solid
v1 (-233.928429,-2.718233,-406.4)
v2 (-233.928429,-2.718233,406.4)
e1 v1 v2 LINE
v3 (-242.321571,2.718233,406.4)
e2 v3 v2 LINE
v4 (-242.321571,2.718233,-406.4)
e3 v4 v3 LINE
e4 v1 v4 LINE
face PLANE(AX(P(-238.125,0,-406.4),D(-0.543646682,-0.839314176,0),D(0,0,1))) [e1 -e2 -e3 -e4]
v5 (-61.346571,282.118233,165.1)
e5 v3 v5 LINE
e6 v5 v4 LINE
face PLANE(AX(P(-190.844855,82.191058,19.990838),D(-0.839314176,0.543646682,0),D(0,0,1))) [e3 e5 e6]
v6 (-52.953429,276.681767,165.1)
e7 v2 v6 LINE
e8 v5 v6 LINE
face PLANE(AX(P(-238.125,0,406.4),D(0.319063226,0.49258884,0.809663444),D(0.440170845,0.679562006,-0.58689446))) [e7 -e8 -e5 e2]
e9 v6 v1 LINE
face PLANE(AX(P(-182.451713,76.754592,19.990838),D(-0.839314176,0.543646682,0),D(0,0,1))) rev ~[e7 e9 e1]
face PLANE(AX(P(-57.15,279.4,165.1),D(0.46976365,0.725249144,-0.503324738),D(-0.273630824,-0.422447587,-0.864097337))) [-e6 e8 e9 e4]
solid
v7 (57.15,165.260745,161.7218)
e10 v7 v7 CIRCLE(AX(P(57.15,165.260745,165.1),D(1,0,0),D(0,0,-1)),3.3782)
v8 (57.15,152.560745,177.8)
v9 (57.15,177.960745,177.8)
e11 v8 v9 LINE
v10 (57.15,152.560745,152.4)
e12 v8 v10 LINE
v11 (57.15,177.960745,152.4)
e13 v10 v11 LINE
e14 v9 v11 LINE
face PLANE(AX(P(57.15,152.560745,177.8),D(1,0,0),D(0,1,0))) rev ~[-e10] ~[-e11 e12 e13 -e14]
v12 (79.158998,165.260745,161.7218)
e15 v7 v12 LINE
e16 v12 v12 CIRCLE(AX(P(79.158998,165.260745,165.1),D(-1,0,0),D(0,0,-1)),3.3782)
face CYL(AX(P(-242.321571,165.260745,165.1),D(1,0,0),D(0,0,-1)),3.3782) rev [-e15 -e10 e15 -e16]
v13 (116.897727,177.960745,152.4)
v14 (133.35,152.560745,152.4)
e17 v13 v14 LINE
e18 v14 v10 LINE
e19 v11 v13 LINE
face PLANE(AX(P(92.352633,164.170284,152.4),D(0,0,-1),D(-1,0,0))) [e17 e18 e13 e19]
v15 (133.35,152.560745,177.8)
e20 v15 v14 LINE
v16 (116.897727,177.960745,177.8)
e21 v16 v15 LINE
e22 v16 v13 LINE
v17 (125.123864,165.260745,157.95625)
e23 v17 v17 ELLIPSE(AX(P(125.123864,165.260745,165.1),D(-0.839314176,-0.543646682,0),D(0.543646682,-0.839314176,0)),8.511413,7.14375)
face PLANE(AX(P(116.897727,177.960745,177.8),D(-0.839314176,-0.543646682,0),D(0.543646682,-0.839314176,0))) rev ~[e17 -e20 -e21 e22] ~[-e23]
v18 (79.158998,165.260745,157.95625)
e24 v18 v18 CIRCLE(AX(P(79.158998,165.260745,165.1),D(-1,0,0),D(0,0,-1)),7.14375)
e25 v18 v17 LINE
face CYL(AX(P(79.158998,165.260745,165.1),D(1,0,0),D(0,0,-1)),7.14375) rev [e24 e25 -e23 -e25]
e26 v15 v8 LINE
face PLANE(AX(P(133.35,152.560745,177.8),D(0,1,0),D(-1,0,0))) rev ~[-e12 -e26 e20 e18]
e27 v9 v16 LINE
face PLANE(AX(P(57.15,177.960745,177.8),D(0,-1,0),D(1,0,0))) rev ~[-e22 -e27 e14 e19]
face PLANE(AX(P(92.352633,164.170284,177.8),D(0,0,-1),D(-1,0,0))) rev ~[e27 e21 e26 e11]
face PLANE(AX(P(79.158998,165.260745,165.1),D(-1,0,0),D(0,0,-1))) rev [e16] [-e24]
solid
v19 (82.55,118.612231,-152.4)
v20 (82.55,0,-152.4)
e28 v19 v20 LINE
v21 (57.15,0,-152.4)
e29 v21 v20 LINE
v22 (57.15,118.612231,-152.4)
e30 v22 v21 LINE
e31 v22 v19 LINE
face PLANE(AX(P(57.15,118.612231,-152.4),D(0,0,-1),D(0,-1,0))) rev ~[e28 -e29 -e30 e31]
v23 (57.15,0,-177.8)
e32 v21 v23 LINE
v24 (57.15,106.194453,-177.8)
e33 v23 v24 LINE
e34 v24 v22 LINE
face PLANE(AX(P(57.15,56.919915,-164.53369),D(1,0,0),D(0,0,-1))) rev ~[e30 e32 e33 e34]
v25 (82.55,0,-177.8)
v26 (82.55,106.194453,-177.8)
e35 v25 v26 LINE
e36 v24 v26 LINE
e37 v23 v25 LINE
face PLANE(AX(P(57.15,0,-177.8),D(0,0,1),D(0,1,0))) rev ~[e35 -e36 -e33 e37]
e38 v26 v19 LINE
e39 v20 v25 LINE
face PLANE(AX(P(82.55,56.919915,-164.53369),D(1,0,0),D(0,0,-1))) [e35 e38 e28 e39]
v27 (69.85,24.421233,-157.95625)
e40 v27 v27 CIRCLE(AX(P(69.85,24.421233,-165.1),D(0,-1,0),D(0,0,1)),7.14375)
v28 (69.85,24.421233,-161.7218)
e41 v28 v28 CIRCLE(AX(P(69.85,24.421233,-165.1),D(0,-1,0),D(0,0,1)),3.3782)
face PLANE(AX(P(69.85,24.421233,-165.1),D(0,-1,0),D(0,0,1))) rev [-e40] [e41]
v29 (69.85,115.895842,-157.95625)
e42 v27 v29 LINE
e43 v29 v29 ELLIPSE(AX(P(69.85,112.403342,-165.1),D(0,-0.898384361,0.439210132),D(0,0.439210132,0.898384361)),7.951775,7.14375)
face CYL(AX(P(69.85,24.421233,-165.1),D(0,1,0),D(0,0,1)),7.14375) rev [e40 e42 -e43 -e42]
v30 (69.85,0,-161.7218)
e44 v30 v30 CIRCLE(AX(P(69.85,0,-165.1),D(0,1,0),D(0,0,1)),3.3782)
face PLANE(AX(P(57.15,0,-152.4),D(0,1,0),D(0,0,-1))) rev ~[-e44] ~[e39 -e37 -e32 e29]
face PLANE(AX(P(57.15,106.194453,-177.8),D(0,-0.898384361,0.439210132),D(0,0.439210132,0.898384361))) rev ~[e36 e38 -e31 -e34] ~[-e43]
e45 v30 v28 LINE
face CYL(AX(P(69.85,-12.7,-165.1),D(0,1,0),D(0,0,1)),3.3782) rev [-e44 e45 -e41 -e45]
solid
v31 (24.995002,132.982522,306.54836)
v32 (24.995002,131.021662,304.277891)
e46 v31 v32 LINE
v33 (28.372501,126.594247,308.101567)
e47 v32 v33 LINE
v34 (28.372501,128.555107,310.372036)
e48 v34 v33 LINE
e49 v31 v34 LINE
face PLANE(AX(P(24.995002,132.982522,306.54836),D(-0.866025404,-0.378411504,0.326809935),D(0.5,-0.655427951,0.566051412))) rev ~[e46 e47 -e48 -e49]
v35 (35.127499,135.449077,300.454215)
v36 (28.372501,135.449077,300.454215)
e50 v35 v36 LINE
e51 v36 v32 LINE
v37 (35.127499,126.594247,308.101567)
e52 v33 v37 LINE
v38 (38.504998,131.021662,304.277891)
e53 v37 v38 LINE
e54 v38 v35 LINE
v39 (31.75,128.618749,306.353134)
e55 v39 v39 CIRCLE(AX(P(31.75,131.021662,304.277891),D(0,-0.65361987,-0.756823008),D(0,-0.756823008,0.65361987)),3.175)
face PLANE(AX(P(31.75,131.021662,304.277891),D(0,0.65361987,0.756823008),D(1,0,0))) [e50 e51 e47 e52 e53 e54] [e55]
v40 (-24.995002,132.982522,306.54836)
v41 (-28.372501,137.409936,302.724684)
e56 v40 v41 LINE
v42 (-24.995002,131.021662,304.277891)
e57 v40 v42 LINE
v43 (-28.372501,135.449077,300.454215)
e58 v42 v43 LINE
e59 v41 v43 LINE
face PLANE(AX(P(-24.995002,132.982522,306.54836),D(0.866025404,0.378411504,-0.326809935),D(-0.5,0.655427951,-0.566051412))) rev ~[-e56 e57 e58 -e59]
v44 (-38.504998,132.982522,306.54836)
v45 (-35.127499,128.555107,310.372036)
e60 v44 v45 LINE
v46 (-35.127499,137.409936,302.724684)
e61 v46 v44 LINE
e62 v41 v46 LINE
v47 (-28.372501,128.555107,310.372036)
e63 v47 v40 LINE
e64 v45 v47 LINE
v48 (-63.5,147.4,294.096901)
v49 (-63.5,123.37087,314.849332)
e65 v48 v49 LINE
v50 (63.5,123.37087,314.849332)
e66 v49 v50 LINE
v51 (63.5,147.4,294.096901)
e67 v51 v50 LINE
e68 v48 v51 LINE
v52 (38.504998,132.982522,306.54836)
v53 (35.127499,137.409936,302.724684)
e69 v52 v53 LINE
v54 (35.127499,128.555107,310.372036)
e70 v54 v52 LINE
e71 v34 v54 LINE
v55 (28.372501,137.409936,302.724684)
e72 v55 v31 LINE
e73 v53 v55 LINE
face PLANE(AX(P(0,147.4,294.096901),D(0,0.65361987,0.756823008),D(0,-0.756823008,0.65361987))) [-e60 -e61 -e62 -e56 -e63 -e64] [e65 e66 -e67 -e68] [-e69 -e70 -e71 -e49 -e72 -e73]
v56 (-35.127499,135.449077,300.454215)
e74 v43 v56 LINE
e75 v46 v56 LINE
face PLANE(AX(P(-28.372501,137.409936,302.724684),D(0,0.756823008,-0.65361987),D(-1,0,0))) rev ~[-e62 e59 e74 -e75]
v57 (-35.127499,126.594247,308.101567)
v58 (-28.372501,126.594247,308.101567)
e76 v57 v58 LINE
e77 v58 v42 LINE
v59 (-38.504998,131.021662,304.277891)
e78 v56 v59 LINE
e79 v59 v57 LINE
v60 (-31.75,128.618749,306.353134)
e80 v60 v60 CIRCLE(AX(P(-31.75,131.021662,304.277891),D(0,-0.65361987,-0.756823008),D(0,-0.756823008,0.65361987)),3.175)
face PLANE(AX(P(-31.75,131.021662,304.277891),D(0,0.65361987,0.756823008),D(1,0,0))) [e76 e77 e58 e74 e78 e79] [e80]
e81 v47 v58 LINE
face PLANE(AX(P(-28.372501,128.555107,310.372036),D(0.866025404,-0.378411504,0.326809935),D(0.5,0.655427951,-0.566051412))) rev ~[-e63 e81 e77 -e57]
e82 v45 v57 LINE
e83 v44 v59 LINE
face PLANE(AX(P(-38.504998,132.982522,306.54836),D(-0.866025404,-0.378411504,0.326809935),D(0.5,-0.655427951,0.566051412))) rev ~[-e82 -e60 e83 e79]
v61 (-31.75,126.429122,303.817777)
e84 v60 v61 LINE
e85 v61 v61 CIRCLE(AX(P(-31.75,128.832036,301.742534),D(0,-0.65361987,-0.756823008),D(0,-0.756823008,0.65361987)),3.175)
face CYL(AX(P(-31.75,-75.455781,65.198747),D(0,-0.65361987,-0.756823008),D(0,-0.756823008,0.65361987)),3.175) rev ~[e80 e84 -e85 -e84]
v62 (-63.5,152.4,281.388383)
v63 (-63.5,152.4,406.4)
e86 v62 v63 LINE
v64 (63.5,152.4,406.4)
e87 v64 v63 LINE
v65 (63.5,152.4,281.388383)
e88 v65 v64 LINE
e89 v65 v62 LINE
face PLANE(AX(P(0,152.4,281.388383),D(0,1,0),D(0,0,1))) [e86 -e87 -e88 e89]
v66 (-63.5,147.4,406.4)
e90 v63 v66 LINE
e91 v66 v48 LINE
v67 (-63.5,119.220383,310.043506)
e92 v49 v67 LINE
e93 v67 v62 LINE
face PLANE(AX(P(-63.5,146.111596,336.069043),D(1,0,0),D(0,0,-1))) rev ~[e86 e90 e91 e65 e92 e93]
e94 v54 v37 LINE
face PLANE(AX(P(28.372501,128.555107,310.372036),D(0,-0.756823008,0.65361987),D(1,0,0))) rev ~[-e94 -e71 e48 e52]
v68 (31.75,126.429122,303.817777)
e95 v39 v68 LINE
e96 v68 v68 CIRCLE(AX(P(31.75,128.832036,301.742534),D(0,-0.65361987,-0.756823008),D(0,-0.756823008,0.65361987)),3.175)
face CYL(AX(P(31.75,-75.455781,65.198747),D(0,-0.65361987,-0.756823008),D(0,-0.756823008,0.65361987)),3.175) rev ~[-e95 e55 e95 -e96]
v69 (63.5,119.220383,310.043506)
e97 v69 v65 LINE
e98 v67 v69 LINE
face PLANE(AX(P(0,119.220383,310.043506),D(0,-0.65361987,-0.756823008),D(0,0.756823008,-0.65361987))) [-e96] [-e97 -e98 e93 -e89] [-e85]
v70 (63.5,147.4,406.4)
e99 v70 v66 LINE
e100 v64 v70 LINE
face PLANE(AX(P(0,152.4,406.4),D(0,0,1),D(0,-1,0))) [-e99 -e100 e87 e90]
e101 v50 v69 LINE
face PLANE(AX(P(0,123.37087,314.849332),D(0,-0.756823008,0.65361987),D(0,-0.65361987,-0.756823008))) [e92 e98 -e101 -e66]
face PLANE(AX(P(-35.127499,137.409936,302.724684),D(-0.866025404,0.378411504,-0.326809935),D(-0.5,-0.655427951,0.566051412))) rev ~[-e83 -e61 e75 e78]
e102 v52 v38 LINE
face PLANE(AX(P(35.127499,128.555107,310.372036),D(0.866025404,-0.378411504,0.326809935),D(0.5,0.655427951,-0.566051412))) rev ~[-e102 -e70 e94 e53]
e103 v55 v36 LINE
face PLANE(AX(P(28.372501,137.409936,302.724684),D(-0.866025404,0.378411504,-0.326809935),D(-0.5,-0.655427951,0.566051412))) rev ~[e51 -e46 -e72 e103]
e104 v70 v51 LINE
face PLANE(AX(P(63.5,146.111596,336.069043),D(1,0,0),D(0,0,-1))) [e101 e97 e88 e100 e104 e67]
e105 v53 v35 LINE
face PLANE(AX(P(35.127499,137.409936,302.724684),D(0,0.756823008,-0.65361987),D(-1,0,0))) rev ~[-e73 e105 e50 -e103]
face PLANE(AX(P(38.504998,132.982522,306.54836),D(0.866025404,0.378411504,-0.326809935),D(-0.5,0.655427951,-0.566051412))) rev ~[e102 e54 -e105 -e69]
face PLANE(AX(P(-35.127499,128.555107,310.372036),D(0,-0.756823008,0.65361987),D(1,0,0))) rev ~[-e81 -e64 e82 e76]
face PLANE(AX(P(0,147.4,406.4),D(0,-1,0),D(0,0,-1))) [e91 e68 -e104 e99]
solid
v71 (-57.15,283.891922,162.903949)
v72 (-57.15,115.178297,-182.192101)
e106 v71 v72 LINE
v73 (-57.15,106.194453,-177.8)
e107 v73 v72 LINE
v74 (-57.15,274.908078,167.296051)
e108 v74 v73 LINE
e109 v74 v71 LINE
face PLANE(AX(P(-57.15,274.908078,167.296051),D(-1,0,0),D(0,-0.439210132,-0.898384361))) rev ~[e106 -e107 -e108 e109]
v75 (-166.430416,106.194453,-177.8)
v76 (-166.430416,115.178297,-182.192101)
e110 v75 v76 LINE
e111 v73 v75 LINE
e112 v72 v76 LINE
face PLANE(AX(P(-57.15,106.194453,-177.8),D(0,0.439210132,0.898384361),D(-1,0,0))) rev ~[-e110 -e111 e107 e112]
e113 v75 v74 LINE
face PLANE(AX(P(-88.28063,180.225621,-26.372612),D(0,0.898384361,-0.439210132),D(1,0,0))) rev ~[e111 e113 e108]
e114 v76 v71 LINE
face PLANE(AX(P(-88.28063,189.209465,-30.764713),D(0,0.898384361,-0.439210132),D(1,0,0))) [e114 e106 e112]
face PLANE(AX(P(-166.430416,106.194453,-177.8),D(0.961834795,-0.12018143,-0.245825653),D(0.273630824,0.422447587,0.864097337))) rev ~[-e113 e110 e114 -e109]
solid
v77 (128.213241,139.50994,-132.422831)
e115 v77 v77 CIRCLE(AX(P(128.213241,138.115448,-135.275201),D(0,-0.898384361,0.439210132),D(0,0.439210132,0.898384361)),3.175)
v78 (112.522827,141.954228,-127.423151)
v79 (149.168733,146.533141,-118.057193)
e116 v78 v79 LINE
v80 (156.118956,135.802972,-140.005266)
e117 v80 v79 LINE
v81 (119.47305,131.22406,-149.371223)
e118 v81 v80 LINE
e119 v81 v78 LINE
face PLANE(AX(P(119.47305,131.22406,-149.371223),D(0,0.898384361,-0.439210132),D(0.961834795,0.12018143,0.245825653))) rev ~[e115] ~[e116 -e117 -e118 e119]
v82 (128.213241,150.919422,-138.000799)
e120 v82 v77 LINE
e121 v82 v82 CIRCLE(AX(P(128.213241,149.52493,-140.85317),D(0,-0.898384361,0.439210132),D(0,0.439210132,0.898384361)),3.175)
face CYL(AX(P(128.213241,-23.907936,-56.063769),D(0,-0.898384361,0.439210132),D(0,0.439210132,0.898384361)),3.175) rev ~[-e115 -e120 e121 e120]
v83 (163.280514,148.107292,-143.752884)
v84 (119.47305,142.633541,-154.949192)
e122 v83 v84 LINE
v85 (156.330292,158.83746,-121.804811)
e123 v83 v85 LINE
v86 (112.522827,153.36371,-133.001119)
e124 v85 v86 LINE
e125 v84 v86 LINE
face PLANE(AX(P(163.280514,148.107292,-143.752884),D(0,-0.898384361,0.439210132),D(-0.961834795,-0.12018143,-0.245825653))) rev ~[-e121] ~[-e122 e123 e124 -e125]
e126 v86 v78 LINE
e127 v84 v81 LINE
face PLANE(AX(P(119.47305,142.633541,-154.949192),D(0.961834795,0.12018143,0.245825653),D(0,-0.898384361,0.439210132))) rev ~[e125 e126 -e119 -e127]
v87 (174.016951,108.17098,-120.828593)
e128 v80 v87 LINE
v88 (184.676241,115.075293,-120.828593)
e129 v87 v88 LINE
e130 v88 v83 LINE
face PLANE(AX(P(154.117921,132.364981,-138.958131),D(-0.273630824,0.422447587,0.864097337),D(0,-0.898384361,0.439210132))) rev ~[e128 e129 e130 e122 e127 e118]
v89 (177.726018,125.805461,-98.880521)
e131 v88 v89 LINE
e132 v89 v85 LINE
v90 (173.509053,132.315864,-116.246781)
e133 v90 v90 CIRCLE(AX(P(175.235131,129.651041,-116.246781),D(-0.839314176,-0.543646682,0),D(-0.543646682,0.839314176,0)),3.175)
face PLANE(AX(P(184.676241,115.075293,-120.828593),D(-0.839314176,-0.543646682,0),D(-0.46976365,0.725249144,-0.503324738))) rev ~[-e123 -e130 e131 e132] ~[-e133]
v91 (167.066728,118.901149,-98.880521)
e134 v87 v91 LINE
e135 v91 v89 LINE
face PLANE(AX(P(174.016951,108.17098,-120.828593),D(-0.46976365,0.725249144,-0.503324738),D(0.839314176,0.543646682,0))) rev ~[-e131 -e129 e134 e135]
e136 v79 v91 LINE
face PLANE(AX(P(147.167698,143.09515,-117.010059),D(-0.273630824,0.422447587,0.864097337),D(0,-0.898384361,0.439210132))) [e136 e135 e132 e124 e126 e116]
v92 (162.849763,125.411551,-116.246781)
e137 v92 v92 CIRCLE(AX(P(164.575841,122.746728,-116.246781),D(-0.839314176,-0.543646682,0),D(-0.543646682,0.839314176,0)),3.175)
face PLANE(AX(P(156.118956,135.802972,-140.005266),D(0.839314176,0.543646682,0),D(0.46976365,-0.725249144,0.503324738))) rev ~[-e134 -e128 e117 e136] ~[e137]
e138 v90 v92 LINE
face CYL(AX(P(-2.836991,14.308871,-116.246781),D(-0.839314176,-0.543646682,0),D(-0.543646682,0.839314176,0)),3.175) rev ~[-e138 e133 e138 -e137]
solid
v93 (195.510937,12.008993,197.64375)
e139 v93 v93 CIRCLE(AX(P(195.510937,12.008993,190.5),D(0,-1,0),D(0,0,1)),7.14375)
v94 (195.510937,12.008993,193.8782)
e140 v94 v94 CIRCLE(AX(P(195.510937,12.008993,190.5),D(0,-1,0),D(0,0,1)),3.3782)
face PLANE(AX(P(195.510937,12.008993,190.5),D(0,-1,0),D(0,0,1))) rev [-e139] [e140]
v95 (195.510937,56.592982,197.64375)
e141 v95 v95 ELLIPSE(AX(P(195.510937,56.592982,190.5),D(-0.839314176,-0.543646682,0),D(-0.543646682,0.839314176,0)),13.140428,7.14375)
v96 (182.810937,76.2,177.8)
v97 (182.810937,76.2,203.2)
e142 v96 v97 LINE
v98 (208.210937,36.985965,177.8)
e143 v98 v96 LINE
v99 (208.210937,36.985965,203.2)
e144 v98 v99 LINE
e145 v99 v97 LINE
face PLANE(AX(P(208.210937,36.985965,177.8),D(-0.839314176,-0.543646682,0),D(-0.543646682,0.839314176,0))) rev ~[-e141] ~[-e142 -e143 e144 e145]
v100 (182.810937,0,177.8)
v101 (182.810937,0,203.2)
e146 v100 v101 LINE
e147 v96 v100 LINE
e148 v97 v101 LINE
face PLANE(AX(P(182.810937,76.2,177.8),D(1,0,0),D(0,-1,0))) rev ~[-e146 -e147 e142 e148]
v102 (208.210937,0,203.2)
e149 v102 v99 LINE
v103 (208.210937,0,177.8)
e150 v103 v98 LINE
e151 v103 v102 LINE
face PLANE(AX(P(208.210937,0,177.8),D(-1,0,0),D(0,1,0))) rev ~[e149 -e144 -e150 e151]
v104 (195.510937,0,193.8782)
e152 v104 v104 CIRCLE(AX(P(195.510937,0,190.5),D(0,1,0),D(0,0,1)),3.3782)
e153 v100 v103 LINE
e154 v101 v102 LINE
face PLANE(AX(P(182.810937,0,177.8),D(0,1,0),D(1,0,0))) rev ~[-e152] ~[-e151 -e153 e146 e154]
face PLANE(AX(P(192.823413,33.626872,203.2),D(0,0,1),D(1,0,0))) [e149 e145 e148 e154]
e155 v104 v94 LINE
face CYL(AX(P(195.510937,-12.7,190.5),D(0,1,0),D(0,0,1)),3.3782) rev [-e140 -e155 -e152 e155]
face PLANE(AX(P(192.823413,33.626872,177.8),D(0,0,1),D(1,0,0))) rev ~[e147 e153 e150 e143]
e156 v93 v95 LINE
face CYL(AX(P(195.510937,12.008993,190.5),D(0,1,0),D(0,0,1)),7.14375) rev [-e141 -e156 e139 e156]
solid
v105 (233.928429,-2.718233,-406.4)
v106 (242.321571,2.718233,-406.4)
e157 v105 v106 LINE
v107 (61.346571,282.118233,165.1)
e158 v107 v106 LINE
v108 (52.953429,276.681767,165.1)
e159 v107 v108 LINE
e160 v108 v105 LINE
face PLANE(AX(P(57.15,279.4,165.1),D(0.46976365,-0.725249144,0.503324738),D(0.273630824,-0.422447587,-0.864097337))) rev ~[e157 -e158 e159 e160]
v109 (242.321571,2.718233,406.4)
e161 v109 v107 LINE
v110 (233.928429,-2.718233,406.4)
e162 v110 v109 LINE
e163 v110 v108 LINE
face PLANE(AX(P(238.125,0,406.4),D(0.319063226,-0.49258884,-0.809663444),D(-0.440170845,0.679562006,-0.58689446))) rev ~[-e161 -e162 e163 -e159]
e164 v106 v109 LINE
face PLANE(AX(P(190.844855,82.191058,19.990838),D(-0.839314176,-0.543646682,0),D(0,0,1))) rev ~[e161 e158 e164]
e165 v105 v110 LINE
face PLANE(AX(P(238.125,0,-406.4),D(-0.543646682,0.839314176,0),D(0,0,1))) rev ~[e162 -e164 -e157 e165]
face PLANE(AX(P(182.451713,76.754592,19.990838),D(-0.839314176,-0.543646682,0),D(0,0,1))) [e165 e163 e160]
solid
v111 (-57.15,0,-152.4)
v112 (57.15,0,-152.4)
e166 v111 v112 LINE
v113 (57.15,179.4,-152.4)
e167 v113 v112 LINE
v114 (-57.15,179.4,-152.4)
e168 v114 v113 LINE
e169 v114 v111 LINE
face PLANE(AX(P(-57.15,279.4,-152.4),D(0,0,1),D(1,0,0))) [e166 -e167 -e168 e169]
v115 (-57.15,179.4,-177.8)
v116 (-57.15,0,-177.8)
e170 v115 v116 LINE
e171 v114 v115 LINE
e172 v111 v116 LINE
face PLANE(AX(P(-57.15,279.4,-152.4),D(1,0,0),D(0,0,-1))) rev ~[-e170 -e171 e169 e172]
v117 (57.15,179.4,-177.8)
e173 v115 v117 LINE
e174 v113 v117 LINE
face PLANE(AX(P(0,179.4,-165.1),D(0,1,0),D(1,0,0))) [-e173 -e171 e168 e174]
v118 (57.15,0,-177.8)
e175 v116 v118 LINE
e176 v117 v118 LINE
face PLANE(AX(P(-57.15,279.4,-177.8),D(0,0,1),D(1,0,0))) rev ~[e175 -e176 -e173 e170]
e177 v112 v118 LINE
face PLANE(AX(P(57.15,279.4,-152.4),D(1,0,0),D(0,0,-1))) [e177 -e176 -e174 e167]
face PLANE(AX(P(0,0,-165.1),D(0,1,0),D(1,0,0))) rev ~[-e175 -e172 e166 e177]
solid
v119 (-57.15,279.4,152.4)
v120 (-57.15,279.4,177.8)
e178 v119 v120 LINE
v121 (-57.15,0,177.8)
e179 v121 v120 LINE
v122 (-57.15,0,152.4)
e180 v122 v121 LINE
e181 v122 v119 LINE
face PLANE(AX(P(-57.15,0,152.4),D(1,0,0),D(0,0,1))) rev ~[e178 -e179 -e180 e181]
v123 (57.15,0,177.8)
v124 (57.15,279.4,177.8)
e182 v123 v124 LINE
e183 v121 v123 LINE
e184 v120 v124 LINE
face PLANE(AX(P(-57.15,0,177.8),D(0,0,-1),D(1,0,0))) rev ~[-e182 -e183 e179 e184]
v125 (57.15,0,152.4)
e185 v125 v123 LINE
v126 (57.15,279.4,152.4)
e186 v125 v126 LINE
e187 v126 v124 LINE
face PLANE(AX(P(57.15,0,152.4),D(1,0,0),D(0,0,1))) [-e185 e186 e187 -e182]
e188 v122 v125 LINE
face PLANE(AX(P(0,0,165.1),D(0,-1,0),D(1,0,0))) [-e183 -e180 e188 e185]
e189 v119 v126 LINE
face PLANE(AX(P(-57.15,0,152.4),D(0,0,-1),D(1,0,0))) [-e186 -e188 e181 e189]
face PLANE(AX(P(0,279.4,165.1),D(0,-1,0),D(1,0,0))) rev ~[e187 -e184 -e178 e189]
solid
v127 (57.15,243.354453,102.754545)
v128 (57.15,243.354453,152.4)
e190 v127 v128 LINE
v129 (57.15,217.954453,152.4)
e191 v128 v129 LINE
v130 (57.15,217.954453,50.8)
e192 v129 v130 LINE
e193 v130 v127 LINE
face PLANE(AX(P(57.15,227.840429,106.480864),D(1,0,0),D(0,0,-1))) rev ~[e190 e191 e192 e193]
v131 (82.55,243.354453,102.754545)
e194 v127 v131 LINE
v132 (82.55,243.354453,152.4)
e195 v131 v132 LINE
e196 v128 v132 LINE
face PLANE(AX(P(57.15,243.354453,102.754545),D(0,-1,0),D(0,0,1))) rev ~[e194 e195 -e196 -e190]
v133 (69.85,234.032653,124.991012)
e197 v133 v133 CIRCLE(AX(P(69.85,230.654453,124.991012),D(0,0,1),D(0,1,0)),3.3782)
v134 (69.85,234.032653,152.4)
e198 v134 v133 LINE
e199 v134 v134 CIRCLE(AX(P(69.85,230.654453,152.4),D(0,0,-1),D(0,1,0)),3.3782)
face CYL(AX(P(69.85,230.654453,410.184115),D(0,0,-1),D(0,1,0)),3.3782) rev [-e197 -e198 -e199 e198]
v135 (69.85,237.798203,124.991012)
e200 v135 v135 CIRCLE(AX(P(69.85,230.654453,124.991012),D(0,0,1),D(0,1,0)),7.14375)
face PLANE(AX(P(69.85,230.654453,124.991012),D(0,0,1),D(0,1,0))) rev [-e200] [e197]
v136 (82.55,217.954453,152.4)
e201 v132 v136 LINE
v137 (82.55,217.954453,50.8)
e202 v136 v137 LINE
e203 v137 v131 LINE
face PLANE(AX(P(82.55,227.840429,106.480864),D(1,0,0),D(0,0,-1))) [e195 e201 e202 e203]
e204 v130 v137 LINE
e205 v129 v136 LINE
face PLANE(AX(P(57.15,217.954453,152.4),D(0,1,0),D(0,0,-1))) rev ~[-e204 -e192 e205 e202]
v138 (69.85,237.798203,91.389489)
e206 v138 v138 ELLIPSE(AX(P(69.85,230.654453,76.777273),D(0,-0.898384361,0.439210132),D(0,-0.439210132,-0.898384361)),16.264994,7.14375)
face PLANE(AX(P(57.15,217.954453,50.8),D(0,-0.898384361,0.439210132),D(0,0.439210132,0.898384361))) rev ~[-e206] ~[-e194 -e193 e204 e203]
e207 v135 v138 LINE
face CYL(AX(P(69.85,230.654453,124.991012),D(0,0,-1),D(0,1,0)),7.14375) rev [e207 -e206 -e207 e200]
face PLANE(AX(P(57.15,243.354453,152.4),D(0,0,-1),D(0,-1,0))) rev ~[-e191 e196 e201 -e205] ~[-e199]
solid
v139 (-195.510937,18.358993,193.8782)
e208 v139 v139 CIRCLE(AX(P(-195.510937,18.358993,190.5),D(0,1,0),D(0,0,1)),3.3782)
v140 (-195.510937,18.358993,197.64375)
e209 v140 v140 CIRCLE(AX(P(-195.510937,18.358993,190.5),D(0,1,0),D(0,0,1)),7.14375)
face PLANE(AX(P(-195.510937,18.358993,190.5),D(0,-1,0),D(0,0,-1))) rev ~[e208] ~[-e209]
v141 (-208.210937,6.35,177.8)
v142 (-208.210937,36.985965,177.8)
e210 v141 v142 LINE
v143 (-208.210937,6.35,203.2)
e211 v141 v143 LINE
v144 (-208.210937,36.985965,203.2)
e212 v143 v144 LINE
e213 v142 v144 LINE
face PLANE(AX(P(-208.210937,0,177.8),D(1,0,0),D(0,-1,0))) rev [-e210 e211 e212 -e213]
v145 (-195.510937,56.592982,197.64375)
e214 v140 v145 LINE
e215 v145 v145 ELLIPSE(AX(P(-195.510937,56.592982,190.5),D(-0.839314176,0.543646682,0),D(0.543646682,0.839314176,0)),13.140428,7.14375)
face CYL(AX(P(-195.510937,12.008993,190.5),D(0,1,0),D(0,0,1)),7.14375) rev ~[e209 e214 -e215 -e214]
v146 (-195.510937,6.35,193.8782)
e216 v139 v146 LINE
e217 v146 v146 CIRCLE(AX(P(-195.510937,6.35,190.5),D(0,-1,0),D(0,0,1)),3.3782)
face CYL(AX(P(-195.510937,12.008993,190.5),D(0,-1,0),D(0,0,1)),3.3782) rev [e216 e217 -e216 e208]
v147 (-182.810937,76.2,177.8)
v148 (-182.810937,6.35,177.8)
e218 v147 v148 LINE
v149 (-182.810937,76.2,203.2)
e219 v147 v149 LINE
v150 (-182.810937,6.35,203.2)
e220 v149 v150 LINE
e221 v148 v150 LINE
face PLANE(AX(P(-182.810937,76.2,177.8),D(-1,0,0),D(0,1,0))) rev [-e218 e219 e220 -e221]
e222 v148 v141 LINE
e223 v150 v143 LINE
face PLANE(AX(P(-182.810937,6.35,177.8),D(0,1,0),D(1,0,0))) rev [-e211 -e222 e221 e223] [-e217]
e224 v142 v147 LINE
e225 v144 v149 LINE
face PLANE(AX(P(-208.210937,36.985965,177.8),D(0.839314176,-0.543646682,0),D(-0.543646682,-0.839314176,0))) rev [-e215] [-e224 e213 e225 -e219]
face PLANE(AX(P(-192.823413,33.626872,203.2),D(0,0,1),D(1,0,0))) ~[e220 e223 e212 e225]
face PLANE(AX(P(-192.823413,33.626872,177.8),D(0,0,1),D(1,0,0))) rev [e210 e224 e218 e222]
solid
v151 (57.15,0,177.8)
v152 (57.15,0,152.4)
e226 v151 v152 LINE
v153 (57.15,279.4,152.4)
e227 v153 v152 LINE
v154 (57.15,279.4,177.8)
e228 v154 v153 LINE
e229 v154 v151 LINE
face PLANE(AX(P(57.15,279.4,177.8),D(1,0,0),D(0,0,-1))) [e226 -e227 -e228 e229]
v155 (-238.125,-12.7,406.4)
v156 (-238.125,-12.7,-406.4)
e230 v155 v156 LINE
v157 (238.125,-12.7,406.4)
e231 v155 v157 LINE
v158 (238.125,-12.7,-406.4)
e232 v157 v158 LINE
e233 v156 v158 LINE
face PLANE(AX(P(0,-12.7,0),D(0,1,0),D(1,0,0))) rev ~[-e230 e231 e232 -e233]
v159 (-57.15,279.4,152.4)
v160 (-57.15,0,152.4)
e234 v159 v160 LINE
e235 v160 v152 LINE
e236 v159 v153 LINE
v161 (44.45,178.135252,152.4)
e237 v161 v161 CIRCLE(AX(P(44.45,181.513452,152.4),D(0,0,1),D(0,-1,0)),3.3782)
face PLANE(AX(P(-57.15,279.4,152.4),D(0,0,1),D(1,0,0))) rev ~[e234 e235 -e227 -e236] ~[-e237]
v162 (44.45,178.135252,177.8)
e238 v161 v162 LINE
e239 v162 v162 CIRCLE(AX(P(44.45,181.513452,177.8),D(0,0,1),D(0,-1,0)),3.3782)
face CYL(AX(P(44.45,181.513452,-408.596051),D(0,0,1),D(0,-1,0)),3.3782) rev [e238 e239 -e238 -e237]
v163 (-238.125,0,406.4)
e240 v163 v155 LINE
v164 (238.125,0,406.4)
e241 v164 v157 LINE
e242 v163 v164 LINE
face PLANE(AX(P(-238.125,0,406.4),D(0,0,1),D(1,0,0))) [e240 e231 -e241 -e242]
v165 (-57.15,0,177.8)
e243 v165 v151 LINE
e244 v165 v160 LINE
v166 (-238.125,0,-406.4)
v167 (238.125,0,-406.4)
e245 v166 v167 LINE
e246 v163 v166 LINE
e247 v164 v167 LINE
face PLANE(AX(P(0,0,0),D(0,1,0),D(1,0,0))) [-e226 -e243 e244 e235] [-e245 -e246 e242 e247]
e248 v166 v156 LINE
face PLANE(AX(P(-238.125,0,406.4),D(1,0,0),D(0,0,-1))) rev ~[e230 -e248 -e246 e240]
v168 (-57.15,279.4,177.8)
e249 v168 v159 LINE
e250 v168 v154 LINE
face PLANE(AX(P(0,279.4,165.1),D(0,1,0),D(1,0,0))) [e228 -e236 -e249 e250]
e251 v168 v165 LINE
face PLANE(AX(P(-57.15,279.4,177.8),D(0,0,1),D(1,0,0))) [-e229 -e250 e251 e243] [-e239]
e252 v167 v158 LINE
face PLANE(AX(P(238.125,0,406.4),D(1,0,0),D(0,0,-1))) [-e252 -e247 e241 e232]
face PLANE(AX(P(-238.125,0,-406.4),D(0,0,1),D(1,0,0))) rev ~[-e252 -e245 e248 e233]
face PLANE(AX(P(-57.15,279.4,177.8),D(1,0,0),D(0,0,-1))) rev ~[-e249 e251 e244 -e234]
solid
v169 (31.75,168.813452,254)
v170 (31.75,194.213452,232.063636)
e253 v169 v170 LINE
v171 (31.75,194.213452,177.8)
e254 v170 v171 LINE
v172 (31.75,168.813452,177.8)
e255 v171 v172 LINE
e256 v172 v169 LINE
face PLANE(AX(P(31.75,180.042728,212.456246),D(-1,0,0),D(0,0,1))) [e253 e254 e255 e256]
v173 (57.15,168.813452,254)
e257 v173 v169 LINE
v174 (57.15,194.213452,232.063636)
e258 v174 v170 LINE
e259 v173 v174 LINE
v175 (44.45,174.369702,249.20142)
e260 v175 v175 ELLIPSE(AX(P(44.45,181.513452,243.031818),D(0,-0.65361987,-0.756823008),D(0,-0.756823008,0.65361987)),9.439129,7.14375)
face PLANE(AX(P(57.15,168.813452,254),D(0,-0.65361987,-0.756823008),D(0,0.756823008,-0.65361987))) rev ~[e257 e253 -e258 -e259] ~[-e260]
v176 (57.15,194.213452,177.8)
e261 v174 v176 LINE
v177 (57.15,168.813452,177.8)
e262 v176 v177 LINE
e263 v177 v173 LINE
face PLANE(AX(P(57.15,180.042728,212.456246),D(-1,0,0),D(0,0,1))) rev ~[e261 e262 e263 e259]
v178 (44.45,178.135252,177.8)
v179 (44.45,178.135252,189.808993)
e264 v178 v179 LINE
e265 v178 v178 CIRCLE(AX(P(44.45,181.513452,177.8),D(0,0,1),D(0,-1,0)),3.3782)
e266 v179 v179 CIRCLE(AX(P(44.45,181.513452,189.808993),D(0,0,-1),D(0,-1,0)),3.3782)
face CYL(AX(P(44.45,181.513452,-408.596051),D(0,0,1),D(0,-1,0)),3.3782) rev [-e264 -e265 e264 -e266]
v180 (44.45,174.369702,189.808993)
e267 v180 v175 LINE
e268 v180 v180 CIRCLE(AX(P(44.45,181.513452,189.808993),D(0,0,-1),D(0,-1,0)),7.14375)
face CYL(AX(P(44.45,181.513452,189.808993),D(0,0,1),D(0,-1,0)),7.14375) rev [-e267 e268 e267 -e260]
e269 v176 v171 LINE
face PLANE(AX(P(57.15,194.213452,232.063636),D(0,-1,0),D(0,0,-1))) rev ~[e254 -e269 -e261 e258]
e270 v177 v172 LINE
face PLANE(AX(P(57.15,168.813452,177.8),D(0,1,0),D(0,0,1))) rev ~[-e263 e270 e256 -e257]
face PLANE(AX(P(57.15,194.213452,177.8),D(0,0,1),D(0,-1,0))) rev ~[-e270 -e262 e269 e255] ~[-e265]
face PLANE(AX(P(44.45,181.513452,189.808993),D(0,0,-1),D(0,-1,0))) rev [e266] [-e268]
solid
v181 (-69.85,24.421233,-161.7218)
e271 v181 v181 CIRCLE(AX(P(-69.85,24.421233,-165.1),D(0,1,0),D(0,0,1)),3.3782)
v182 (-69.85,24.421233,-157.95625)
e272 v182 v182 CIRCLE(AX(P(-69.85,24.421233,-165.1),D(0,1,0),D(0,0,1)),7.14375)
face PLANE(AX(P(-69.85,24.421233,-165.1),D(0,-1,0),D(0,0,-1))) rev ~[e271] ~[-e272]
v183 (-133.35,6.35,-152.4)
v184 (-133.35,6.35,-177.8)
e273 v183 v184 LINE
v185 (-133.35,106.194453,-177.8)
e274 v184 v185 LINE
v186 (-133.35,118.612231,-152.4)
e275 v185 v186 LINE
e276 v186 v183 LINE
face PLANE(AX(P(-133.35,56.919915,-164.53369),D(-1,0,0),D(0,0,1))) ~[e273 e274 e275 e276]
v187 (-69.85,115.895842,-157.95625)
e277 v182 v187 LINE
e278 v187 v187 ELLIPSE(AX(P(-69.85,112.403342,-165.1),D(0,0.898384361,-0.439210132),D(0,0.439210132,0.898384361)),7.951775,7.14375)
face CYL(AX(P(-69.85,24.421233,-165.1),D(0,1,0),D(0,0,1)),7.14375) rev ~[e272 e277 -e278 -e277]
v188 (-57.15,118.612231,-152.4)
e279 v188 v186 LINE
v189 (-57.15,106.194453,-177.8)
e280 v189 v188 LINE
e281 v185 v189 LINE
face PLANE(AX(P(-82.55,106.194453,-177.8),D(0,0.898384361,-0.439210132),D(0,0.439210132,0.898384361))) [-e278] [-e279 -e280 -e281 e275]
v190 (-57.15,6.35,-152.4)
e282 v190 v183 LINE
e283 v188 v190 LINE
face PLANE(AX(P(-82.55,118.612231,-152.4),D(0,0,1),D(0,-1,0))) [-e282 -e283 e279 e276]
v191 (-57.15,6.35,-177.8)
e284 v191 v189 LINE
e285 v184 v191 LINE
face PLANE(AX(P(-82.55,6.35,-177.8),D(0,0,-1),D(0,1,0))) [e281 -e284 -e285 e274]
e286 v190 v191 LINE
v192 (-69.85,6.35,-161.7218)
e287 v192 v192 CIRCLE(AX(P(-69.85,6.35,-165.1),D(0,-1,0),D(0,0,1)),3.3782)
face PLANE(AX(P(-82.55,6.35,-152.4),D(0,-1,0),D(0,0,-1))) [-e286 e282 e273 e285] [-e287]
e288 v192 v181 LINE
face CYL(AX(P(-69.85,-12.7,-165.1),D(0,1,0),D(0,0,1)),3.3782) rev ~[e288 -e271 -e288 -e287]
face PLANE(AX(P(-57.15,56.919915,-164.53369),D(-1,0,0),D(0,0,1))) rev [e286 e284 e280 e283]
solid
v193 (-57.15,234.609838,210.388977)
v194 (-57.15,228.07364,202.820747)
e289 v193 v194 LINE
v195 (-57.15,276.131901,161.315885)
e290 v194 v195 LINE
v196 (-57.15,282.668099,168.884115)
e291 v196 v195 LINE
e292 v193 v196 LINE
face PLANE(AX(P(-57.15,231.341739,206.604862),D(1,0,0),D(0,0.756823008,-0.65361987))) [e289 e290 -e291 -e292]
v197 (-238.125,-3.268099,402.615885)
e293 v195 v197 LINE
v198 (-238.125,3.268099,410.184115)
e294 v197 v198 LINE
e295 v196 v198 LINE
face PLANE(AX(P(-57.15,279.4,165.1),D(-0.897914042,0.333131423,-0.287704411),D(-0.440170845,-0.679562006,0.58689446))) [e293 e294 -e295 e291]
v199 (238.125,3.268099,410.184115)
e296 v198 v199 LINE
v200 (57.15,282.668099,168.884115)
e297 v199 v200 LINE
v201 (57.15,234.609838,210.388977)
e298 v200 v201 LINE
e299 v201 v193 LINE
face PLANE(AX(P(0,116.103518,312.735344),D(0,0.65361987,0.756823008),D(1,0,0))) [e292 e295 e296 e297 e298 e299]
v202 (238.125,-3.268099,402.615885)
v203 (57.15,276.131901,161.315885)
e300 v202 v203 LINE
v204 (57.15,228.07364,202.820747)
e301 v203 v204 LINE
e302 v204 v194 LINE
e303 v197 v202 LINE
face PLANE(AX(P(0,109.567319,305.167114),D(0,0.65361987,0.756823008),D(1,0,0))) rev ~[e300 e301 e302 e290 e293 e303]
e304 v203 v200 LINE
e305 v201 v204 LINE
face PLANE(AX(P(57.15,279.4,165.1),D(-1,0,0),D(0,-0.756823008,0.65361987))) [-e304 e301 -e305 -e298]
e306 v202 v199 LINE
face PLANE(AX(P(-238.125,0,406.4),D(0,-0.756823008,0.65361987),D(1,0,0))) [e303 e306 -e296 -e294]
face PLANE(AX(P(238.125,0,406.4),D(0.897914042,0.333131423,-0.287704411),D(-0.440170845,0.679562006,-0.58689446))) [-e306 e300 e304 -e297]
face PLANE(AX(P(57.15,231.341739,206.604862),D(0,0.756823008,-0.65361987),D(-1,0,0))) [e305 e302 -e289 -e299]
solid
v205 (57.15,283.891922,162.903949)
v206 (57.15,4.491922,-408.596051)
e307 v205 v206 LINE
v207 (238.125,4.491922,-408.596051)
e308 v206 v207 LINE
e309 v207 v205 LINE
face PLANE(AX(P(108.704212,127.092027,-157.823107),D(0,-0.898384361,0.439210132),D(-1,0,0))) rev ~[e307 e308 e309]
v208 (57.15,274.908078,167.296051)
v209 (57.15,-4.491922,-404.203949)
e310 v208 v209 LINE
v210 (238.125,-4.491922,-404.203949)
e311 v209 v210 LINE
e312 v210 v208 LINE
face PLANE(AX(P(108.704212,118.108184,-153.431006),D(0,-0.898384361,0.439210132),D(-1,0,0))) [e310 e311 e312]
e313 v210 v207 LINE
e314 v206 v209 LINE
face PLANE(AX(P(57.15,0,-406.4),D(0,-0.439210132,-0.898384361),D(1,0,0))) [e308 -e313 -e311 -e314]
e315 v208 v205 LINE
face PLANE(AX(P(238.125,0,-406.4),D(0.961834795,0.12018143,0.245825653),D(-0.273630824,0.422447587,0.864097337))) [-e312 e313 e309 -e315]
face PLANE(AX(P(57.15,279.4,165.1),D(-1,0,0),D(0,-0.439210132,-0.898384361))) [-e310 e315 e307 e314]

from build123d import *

# Parameters (mm, degrees)
BOSS_EXTRUDE1_DEPTH                  = 5
BOSS_EXTRUDE2_DEPTH                  = 5
SKETCH2_W                            = 114.3
SKETCH2_H                            = 25.4
BOSS_EXTRUDE3_DEPTH                  = 279.4
BOSS_EXTRUDE3_2_DEPTH                = 279.4
BOSS_EXTRUDE4_DEPTH                  = 25.4
SKETCH1_W                            = 476.25
SKETCH1_H                            = 812.8
BOSS_EXTRUDE5_DEPTH                  = 12.7
BOSS_EXTRUDE6_DEPTH                  = 25.4
MOVE_FACE1_BY                        = 6.35
MOVE_FACE1_2_BY                      = 6.35
BOSS_EXTRUDE7_DEPTH                  = 5
BOSS_EXTRUDE8_DEPTH                  = 5
BOSS_EXTRUDE9_DEPTH                  = 25.4
BOSS_EXTRUDE10_DEPTH                 = 63.5
CUT_EXTRUDE1_DEPTH                   = 3
SKETCH26_W                           = 3.175
SKETCH26_H                           = 631.796713068
F_1_4_0_25_DIAMETER_HOLE1_AT_2_COUNT = 2
F_1_4_0_25_DIAMETER_HOLE1_AT_2_PITCH = 63.5
BOSS_EXTRUDE11_DEPTH                 = 25.4
BOSS_EXTRUDE12_DEPTH                 = 25.4
MOVE_FACE2_BY                        = 6.35
MOVE_FACE3_BY                        = 50.8
BOSS_EXTRUDE13_START                 = -310
BOSS_EXTRUDE13_DEPTH                 = 25.4
SKETCH40_W                           = 3.175
SKETCH40_H                           = 386.099476677
SKETCH42_W                           = 3.175
SKETCH42_H                           = 424.327688964
SKETCH43_W                           = 114.3
SKETCH43_H                           = 25.4
BOSS_EXTRUDE15_DEPTH                 = 279.4
SKETCH44_W                           = 114.3
SKETCH44_H                           = 25.4
CUT_EXTRUDE2_DEPTH                   = 100
BOSS_EXTRUDE16_DEPTH                 = 10


with BuildPart() as part:
    # Sketch4 → Boss-Extrude1 (new, symmetric)
    with BuildSketch(Plane(origin=(167.746747931, 108.654143546, 0), x_dir=(0, 0, -1), z_dir=(0.8393141755459909, 0.5436466818877439, 0))):
        Polygon((-406.4, -129.455866125), (-165.1, 203.434972778), (406.4, -129.455866125), align=None)
    extrude(amount=BOSS_EXTRUDE1_DEPTH, both=True)


with BuildPart() as body_2:
    # Sketch5 → Boss-Extrude2 (new, symmetric)
    with BuildSketch(Plane(origin=(-167.746747931, 108.654143546, 0), x_dir=(0, 0, 1), z_dir=(-0.8393141755459907, 0.543646681887744, 0))):
        Polygon((165.1, 203.434972778), (-406.4, -129.455866125), (406.4, -129.455866125), align=None)
    extrude(amount=BOSS_EXTRUDE2_DEPTH, both=True)


with BuildPart() as body_3:
    # Sketch2 → Boss-Extrude3 (new body)
    with BuildSketch(Plane(origin=(0, 279.4, 0), x_dir=(1, 0, 0), z_dir=(0, 1, 0))):
        with Locations((0, -165.1)):
            Rectangle(SKETCH2_W, SKETCH2_H)
    extrude(amount=-BOSS_EXTRUDE3_DEPTH)

    # Sketch1 → Boss-Extrude5 (add)
    with BuildSketch(Plane(origin=(0, 0, 0), x_dir=(1, 0, 0), z_dir=(0, 1, 0))):
        Rectangle(SKETCH1_W, SKETCH1_H)
    extrude(amount=-BOSS_EXTRUDE5_DEPTH)


with BuildPart() as body_4:
    # Sketch2 → Boss-Extrude3 2 (new body)
    with BuildSketch(Plane(origin=(0, 279.4, 0), x_dir=(1, 0, 0), z_dir=(0, 1, 0))):
        with Locations((0, 165.1)):
            Rectangle(SKETCH2_W, SKETCH2_H)
    extrude(amount=-BOSS_EXTRUDE3_2_DEPTH)

    # Sketch44 → Cut-Extrude2 (cut)
    with BuildSketch(Plane(origin=(0, 279.4, 0), x_dir=(1, 0, 0), z_dir=(0, 1, 0))):
        with Locations((0, 165.1)):
            Rectangle(SKETCH44_W, SKETCH44_H)
    extrude(amount=-CUT_EXTRUDE2_DEPTH, mode=Mode.SUBTRACT)


with BuildPart() as body_5:
    # Sketch6 → Boss-Extrude4 (new body)
    with BuildSketch(Plane.XY.offset(177.8)):
        Polygon((57.15, 152.560744885), (57.15, 177.960744885), (116.897727273, 177.960744885), (133.35, 152.560744885), align=None)
    extrude(amount=-BOSS_EXTRUDE4_DEPTH)

    # Sketch9 → CBORE for 1_4 Binding Head Machine Screw (revolve, cut)
    with BuildSketch(Plane(origin=(133.35, 165.260744885, 165.1), x_dir=(0, 0, -1), z_dir=(0, 1, 0))):
        Polygon((0, 0), (0, 375.671570878), (3.3782, 375.671570878), (3.3782, 54.1910016), (7.14375, 54.1910016), (7.14375, 0), align=None)
    revolve(axis=Axis((139.7, 165.260744885, 165.1), (-1, 0, 0)), mode=Mode.SUBTRACT)


with BuildPart() as body_6:
    # Sketch10 → Boss-Extrude6 (new body)
    with BuildSketch(Plane.XY.offset(177.8)):
        Polygon((182.810937028, 0), (208.210937028, 0), (208.210937028, 36.985964912), (182.810937028, 76.2), align=None)
    extrude(amount=BOSS_EXTRUDE6_DEPTH)

    # Sketch12 → CBORE for 1_4 Binding Head Machine S 2 (revolve, cut)
    with BuildSketch(Plane(origin=(195.510937028, 76.2, 190.5), x_dir=(0, 0, 1), z_dir=(1, 0, 0))):
        Polygon((0, 0), (0, 88.9), (3.3782, 88.9), (3.3782, 64.191007), (7.14375, 64.191007), (7.14375, 0), align=None)
    revolve(axis=Axis((195.510937028, 82.55, 190.5), (0, -1, 0)), mode=Mode.SUBTRACT)


with BuildPart() as body_7:
    # Mirror2: mirrored copy
    add(body_6.part.mirror(Plane(origin=(0, 0, 0), x_dir=(0, 0, 1), z_dir=(1, 0, 0))))

    # Move Face1: a face moved outward by 6.35
    extrude(body_7.faces().sort_by_distance((-199.082812028, 12.008993, 190.5))[0], amount=MOVE_FACE1_BY, dir=(0, 1, 0))

    # Move Face1 2: a face moved inward by 6.35
    extrude(body_7.faces().sort_by_distance((-195.510937028, 0, 196.85))[0], amount=MOVE_FACE1_2_BY, dir=(0, 1, 0), mode=Mode.SUBTRACT)


with BuildPart() as body_8:
    # Sketch14 → Boss-Extrude7 (new, symmetric)
    with BuildSketch(Plane(origin=(0, 201.035739645, 232.778224852), x_dir=(1, 0, 0), z_dir=(0, 0.6536198703460926, 0.7568230077691593))):
        Polygon((-57.15, 103.543707777), (-238.125, -265.631115309), (238.125, -265.631115309), (57.15, 103.543707777), (57.15, 40.043707777), (-57.15, 40.043707777), align=None)
    extrude(amount=BOSS_EXTRUDE7_DEPTH, both=True)


with BuildPart() as body_9:
    # Sketch15 → Boss-Extrude8 (new, symmetric)
    with BuildSketch(Plane(origin=(0, 160.357114388, -78.396811479), x_dir=(-1, 0, 0), z_dir=(0, -0.8983843609192009, 0.4392101320049427))):
        Polygon((-57.15, -271.03856887), (-57.15, 365.103404278), (-238.125, 365.103404278), align=None)
    extrude(amount=BOSS_EXTRUDE8_DEPTH, both=True)


with BuildPart() as body_10:
    # Sketch16 → Boss-Extrude9 (new body)
    with BuildSketch(Plane(origin=(57.15, 0, 0), x_dir=(0, 0, -1), z_dir=(1, 0, 0))):
        Polygon((-177.8, 194.213451656), (-177.8, 168.813451656), (-254, 168.813451656), (-232.063636364, 194.213451656), align=None)
    extrude(amount=-BOSS_EXTRUDE9_DEPTH)


with BuildPart() as cbore_for_1_4_binding_head_machine_s_3_tool:
    # Sketch20 → CBORE for 1_4 Binding Head Machine S 3 (revolve)
    with BuildSketch(Plane(origin=(44.45, 181.513451656, 254), x_dir=(0, -1, 0), z_dir=(1, 0, 0))):
        Polygon((0, 0), (0, 662.59605066), (3.3782, 662.59605066), (3.3782, 64.191007), (7.14375, 64.191007), (7.14375, 0), align=None)
    revolve(axis=Axis((44.45, 181.513451656, 260.35), (0, 0, -1)))


with BuildPart() as body_3_1:
    add(body_3.part)

    # CBORE for 1_4 Binding Head Machine S 3: cut by cbore_for_1_4_binding_head_machine_s_3_tool
    add(cbore_for_1_4_binding_head_machine_s_3_tool.part, mode=Mode.SUBTRACT)


with BuildPart() as body_10_1:
    add(body_10.part)

    # CBORE for 1_4 Binding Head Machine S 3: cut by cbore_for_1_4_binding_head_machine_s_3_tool
    add(cbore_for_1_4_binding_head_machine_s_3_tool.part, mode=Mode.SUBTRACT)


with BuildPart() as body_11:
    # Sketch21 → Boss-Extrude10 (new, symmetric)
    with BuildSketch(Plane(origin=(0, 0, 0), x_dir=(0, 0, -1), z_dir=(1, 0, 0))):
        Polygon((-406.4, 147.4), (-294.096901367, 147.4), (-314.849332251, 123.370869503), (-310.043506151, 119.220383327), (-281.388382661, 152.4), (-406.4, 152.4), align=None)
    extrude(amount=BOSS_EXTRUDE10_DEPTH, both=True)

    # Sketch22 → Cut-Extrude1 (cut)
    with BuildSketch(Plane(origin=(0, 208.454325173, 241.36816599), x_dir=(1, 0, 0), z_dir=(0, 0.653619870346092, 0.75682300776916))):
        Polygon((-35.127499075, -93.871867196), (-38.50499815, -99.721867196), (-35.127499075, -105.571867196), (-28.372500925, -105.571867196), (-24.99500185, -99.721867196), (-28.372500925, -93.871867196), align=None)
        Polygon((35.127499075, -93.871867196), (28.372500925, -93.871867196), (24.99500185, -99.721867196), (28.372500925, -105.571867196), (35.127499075, -105.571867196), (38.50499815, -99.721867196), align=None)
    extrude(amount=-CUT_EXTRUDE1_DEPTH, mode=Mode.SUBTRACT)

    # Sketch26 → 1/4 (0.25) Diameter Hole1 (revolve, cut)
    with BuildSketch(Plane(origin=(31.75, 131.021662091, 304.277890874), x_dir=(0, -0.7568230077691582, 0.6536198703460939), z_dir=(1, 0, 0))):
        with Locations((1.5875, 315.898356534)):
            Rectangle(SKETCH26_W, SKETCH26_H)
    f_1_4_0_25_diameter_hole1 = revolve(axis=Axis((31.75, 135.172148268, 309.083716973), (0, -0.653619870346094, -0.7568230077691582)), mode=Mode.SUBTRACT)

    # 1/4 (0.25) Diameter Hole1 at 2: 1/4 (0.25) Diameter Hole1 ×2
    with Locations(*[(-i * F_1_4_0_25_DIAMETER_HOLE1_AT_2_PITCH, 0, 0) for i in range(1, F_1_4_0_25_DIAMETER_HOLE1_AT_2_COUNT)]):
        add(f_1_4_0_25_diameter_hole1, mode=Mode.SUBTRACT)


with BuildPart() as body_12:
    # Sketch27 → Boss-Extrude11 (new body)
    with BuildSketch(Plane(origin=(57.15, 0, 0), x_dir=(0, 0, -1), z_dir=(1, 0, 0))):
        Polygon((-152.4, 217.954453428), (-50.8, 217.954453428), (-102.754545455, 243.354453428), (-152.4, 243.354453428), align=None)
    extrude(amount=BOSS_EXTRUDE11_DEPTH)

    # Sketch30 → CBORE for 1_4 Binding Head Machine S 4 (revolve, cut)
    with BuildSketch(Plane(origin=(69.85, 230.654453428, 50.8), x_dir=(0, 1, 0), z_dir=(1, 0, 0))):
        Polygon((0, 0), (0, 359.384115039), (3.3782, 359.384115039), (3.3782, 74.1910124), (7.14375, 74.1910124), (7.14375, 0), align=None)
    revolve(axis=Axis((69.85, 230.654453428, 44.45), (0, 0, 1)), mode=Mode.SUBTRACT)


with BuildPart() as body_13:
    # Sketch31 → Boss-Extrude12 (new body)
    with BuildSketch(Plane(origin=(57.15, 0, 0), x_dir=(0, 0, -1), z_dir=(1, 0, 0))):
        Polygon((177.8, 0), (177.8, 106.194453428), (152.4, 118.612231206), (152.4, 0), align=None)
    extrude(amount=BOSS_EXTRUDE12_DEPTH)

    # Sketch33 → CBORE for 1_4 Binding Head Machine S 5 (revolve, cut)
    with BuildSketch(Plane(origin=(69.85, 118.612231206, -165.1), x_dir=(0, 0, 1), z_dir=(1, 0, 0))):
        Polygon((0, 0), (0, 131.312231206), (3.3782, 131.312231206), (3.3782, 94.1909978), (7.14375, 94.1909978), (7.14375, 0), align=None)
    revolve(axis=Axis((69.85, 124.962231206, -165.1), (0, -1, 0)), mode=Mode.SUBTRACT)


with BuildPart() as body_14:
    # Mirror3: mirrored copy
    add(body_13.part.mirror(Plane(origin=(0, 0, 0), x_dir=(0, 0, 1), z_dir=(1, 0, 0))))

    # Move Face2: a face moved inward by 6.35
    extrude(body_14.faces().sort_by_distance((-76.2, 0, -165.1))[0], amount=MOVE_FACE2_BY, dir=(0, 1, 0), mode=Mode.SUBTRACT)

    # Move Face3: a face moved outward by 50.8
    extrude(body_14.faces().sort_by_distance((-82.55, 59.437254353, -164.852159661))[0], amount=MOVE_FACE3_BY, dir=(-1, 0, 0))


with BuildPart() as body_15:
    # Sketch36 → Boss-Extrude13 (new body)
    with BuildSketch(Plane(origin=(113.920036066, -175.876546908, -359.747482313), x_dir=(0, 0.8983843609192015, -0.4392101320049416), z_dir=(0.2736308235120385, -0.42244758717647923, -0.8640973374064376)).offset(BOSS_EXTRUDE13_START)):
        Polygon((183.494997647, 93.964753586), (183.494997647, 132.064753586), (150.248258953, 150.672933675), (156.450985649, 161.755179906), (196.194997647, 139.510479772), (196.194997647, 93.964753586), align=None)
    extrude(amount=-BOSS_EXTRUDE13_DEPTH)

    # Sketch40 → 1/4 (0.25) Diameter Hole2 (revolve, cut)
    with BuildSketch(Plane(origin=(128.213240693, 149.524929679, -140.853169697), x_dir=(0, 0.43921013200494147, 0.8983843609192014), z_dir=(1, 0, 0))):
        with Locations((1.5875, 193.049738339)):
            Rectangle(SKETCH40_W, SKETCH40_H)
    revolve(axis=Axis((128.213240693, 155.229670371, -143.642154035), (0, -0.8983843609192014, 0.4392101320049416)), mode=Mode.SUBTRACT)

    # Sketch42 → 1/4 (0.25) Diameter Hole3 (revolve, cut)
    with BuildSketch(Plane(origin=(175.235131227, 129.651041214, -116.246781111), x_dir=(-0.5436466818877439, 0.8393141755459907, 0), z_dir=(0, 0, 1))):
        with Locations((1.5875, 212.163844482)):
            Rectangle(SKETCH42_W, SKETCH42_H)
    revolve(axis=Axis((180.564776242, 133.103197644, -116.246781111), (-0.8393141755459909, -0.5436466818877438, 0)), mode=Mode.SUBTRACT)


with BuildPart() as body_16:
    # Sketch43 → Boss-Extrude15 (new body)
    with BuildSketch(Plane.XZ):
        with Locations((0, 165.1)):
            Rectangle(SKETCH43_W, SKETCH43_H)
    extrude(amount=-BOSS_EXTRUDE15_DEPTH)


with BuildPart() as body_17:
    # Sketch45 → Boss-Extrude16 (new body)
    with BuildSketch(Plane(origin=(0, 155.865192584, -76.200760819), x_dir=(1, 0, 0), z_dir=(2.159739572246495e-15, 0.8983843609192007, -0.43921013200494297))):
        Polygon((-57.15, 113.091059463), (-166.430416042, 113.091059463), (-57.15, -271.03856887), align=None)
    extrude(amount=BOSS_EXTRUDE16_DEPTH)


solid = Compound([part.part, body_2.part, body_4.part, body_5.part, body_6.part, body_7.part, body_8.part, body_9.part, body_3_1.part, body_10_1.part, body_11.part, body_12.part, body_13.part, body_14.part, body_15.part, body_16.part, body_17.part])
